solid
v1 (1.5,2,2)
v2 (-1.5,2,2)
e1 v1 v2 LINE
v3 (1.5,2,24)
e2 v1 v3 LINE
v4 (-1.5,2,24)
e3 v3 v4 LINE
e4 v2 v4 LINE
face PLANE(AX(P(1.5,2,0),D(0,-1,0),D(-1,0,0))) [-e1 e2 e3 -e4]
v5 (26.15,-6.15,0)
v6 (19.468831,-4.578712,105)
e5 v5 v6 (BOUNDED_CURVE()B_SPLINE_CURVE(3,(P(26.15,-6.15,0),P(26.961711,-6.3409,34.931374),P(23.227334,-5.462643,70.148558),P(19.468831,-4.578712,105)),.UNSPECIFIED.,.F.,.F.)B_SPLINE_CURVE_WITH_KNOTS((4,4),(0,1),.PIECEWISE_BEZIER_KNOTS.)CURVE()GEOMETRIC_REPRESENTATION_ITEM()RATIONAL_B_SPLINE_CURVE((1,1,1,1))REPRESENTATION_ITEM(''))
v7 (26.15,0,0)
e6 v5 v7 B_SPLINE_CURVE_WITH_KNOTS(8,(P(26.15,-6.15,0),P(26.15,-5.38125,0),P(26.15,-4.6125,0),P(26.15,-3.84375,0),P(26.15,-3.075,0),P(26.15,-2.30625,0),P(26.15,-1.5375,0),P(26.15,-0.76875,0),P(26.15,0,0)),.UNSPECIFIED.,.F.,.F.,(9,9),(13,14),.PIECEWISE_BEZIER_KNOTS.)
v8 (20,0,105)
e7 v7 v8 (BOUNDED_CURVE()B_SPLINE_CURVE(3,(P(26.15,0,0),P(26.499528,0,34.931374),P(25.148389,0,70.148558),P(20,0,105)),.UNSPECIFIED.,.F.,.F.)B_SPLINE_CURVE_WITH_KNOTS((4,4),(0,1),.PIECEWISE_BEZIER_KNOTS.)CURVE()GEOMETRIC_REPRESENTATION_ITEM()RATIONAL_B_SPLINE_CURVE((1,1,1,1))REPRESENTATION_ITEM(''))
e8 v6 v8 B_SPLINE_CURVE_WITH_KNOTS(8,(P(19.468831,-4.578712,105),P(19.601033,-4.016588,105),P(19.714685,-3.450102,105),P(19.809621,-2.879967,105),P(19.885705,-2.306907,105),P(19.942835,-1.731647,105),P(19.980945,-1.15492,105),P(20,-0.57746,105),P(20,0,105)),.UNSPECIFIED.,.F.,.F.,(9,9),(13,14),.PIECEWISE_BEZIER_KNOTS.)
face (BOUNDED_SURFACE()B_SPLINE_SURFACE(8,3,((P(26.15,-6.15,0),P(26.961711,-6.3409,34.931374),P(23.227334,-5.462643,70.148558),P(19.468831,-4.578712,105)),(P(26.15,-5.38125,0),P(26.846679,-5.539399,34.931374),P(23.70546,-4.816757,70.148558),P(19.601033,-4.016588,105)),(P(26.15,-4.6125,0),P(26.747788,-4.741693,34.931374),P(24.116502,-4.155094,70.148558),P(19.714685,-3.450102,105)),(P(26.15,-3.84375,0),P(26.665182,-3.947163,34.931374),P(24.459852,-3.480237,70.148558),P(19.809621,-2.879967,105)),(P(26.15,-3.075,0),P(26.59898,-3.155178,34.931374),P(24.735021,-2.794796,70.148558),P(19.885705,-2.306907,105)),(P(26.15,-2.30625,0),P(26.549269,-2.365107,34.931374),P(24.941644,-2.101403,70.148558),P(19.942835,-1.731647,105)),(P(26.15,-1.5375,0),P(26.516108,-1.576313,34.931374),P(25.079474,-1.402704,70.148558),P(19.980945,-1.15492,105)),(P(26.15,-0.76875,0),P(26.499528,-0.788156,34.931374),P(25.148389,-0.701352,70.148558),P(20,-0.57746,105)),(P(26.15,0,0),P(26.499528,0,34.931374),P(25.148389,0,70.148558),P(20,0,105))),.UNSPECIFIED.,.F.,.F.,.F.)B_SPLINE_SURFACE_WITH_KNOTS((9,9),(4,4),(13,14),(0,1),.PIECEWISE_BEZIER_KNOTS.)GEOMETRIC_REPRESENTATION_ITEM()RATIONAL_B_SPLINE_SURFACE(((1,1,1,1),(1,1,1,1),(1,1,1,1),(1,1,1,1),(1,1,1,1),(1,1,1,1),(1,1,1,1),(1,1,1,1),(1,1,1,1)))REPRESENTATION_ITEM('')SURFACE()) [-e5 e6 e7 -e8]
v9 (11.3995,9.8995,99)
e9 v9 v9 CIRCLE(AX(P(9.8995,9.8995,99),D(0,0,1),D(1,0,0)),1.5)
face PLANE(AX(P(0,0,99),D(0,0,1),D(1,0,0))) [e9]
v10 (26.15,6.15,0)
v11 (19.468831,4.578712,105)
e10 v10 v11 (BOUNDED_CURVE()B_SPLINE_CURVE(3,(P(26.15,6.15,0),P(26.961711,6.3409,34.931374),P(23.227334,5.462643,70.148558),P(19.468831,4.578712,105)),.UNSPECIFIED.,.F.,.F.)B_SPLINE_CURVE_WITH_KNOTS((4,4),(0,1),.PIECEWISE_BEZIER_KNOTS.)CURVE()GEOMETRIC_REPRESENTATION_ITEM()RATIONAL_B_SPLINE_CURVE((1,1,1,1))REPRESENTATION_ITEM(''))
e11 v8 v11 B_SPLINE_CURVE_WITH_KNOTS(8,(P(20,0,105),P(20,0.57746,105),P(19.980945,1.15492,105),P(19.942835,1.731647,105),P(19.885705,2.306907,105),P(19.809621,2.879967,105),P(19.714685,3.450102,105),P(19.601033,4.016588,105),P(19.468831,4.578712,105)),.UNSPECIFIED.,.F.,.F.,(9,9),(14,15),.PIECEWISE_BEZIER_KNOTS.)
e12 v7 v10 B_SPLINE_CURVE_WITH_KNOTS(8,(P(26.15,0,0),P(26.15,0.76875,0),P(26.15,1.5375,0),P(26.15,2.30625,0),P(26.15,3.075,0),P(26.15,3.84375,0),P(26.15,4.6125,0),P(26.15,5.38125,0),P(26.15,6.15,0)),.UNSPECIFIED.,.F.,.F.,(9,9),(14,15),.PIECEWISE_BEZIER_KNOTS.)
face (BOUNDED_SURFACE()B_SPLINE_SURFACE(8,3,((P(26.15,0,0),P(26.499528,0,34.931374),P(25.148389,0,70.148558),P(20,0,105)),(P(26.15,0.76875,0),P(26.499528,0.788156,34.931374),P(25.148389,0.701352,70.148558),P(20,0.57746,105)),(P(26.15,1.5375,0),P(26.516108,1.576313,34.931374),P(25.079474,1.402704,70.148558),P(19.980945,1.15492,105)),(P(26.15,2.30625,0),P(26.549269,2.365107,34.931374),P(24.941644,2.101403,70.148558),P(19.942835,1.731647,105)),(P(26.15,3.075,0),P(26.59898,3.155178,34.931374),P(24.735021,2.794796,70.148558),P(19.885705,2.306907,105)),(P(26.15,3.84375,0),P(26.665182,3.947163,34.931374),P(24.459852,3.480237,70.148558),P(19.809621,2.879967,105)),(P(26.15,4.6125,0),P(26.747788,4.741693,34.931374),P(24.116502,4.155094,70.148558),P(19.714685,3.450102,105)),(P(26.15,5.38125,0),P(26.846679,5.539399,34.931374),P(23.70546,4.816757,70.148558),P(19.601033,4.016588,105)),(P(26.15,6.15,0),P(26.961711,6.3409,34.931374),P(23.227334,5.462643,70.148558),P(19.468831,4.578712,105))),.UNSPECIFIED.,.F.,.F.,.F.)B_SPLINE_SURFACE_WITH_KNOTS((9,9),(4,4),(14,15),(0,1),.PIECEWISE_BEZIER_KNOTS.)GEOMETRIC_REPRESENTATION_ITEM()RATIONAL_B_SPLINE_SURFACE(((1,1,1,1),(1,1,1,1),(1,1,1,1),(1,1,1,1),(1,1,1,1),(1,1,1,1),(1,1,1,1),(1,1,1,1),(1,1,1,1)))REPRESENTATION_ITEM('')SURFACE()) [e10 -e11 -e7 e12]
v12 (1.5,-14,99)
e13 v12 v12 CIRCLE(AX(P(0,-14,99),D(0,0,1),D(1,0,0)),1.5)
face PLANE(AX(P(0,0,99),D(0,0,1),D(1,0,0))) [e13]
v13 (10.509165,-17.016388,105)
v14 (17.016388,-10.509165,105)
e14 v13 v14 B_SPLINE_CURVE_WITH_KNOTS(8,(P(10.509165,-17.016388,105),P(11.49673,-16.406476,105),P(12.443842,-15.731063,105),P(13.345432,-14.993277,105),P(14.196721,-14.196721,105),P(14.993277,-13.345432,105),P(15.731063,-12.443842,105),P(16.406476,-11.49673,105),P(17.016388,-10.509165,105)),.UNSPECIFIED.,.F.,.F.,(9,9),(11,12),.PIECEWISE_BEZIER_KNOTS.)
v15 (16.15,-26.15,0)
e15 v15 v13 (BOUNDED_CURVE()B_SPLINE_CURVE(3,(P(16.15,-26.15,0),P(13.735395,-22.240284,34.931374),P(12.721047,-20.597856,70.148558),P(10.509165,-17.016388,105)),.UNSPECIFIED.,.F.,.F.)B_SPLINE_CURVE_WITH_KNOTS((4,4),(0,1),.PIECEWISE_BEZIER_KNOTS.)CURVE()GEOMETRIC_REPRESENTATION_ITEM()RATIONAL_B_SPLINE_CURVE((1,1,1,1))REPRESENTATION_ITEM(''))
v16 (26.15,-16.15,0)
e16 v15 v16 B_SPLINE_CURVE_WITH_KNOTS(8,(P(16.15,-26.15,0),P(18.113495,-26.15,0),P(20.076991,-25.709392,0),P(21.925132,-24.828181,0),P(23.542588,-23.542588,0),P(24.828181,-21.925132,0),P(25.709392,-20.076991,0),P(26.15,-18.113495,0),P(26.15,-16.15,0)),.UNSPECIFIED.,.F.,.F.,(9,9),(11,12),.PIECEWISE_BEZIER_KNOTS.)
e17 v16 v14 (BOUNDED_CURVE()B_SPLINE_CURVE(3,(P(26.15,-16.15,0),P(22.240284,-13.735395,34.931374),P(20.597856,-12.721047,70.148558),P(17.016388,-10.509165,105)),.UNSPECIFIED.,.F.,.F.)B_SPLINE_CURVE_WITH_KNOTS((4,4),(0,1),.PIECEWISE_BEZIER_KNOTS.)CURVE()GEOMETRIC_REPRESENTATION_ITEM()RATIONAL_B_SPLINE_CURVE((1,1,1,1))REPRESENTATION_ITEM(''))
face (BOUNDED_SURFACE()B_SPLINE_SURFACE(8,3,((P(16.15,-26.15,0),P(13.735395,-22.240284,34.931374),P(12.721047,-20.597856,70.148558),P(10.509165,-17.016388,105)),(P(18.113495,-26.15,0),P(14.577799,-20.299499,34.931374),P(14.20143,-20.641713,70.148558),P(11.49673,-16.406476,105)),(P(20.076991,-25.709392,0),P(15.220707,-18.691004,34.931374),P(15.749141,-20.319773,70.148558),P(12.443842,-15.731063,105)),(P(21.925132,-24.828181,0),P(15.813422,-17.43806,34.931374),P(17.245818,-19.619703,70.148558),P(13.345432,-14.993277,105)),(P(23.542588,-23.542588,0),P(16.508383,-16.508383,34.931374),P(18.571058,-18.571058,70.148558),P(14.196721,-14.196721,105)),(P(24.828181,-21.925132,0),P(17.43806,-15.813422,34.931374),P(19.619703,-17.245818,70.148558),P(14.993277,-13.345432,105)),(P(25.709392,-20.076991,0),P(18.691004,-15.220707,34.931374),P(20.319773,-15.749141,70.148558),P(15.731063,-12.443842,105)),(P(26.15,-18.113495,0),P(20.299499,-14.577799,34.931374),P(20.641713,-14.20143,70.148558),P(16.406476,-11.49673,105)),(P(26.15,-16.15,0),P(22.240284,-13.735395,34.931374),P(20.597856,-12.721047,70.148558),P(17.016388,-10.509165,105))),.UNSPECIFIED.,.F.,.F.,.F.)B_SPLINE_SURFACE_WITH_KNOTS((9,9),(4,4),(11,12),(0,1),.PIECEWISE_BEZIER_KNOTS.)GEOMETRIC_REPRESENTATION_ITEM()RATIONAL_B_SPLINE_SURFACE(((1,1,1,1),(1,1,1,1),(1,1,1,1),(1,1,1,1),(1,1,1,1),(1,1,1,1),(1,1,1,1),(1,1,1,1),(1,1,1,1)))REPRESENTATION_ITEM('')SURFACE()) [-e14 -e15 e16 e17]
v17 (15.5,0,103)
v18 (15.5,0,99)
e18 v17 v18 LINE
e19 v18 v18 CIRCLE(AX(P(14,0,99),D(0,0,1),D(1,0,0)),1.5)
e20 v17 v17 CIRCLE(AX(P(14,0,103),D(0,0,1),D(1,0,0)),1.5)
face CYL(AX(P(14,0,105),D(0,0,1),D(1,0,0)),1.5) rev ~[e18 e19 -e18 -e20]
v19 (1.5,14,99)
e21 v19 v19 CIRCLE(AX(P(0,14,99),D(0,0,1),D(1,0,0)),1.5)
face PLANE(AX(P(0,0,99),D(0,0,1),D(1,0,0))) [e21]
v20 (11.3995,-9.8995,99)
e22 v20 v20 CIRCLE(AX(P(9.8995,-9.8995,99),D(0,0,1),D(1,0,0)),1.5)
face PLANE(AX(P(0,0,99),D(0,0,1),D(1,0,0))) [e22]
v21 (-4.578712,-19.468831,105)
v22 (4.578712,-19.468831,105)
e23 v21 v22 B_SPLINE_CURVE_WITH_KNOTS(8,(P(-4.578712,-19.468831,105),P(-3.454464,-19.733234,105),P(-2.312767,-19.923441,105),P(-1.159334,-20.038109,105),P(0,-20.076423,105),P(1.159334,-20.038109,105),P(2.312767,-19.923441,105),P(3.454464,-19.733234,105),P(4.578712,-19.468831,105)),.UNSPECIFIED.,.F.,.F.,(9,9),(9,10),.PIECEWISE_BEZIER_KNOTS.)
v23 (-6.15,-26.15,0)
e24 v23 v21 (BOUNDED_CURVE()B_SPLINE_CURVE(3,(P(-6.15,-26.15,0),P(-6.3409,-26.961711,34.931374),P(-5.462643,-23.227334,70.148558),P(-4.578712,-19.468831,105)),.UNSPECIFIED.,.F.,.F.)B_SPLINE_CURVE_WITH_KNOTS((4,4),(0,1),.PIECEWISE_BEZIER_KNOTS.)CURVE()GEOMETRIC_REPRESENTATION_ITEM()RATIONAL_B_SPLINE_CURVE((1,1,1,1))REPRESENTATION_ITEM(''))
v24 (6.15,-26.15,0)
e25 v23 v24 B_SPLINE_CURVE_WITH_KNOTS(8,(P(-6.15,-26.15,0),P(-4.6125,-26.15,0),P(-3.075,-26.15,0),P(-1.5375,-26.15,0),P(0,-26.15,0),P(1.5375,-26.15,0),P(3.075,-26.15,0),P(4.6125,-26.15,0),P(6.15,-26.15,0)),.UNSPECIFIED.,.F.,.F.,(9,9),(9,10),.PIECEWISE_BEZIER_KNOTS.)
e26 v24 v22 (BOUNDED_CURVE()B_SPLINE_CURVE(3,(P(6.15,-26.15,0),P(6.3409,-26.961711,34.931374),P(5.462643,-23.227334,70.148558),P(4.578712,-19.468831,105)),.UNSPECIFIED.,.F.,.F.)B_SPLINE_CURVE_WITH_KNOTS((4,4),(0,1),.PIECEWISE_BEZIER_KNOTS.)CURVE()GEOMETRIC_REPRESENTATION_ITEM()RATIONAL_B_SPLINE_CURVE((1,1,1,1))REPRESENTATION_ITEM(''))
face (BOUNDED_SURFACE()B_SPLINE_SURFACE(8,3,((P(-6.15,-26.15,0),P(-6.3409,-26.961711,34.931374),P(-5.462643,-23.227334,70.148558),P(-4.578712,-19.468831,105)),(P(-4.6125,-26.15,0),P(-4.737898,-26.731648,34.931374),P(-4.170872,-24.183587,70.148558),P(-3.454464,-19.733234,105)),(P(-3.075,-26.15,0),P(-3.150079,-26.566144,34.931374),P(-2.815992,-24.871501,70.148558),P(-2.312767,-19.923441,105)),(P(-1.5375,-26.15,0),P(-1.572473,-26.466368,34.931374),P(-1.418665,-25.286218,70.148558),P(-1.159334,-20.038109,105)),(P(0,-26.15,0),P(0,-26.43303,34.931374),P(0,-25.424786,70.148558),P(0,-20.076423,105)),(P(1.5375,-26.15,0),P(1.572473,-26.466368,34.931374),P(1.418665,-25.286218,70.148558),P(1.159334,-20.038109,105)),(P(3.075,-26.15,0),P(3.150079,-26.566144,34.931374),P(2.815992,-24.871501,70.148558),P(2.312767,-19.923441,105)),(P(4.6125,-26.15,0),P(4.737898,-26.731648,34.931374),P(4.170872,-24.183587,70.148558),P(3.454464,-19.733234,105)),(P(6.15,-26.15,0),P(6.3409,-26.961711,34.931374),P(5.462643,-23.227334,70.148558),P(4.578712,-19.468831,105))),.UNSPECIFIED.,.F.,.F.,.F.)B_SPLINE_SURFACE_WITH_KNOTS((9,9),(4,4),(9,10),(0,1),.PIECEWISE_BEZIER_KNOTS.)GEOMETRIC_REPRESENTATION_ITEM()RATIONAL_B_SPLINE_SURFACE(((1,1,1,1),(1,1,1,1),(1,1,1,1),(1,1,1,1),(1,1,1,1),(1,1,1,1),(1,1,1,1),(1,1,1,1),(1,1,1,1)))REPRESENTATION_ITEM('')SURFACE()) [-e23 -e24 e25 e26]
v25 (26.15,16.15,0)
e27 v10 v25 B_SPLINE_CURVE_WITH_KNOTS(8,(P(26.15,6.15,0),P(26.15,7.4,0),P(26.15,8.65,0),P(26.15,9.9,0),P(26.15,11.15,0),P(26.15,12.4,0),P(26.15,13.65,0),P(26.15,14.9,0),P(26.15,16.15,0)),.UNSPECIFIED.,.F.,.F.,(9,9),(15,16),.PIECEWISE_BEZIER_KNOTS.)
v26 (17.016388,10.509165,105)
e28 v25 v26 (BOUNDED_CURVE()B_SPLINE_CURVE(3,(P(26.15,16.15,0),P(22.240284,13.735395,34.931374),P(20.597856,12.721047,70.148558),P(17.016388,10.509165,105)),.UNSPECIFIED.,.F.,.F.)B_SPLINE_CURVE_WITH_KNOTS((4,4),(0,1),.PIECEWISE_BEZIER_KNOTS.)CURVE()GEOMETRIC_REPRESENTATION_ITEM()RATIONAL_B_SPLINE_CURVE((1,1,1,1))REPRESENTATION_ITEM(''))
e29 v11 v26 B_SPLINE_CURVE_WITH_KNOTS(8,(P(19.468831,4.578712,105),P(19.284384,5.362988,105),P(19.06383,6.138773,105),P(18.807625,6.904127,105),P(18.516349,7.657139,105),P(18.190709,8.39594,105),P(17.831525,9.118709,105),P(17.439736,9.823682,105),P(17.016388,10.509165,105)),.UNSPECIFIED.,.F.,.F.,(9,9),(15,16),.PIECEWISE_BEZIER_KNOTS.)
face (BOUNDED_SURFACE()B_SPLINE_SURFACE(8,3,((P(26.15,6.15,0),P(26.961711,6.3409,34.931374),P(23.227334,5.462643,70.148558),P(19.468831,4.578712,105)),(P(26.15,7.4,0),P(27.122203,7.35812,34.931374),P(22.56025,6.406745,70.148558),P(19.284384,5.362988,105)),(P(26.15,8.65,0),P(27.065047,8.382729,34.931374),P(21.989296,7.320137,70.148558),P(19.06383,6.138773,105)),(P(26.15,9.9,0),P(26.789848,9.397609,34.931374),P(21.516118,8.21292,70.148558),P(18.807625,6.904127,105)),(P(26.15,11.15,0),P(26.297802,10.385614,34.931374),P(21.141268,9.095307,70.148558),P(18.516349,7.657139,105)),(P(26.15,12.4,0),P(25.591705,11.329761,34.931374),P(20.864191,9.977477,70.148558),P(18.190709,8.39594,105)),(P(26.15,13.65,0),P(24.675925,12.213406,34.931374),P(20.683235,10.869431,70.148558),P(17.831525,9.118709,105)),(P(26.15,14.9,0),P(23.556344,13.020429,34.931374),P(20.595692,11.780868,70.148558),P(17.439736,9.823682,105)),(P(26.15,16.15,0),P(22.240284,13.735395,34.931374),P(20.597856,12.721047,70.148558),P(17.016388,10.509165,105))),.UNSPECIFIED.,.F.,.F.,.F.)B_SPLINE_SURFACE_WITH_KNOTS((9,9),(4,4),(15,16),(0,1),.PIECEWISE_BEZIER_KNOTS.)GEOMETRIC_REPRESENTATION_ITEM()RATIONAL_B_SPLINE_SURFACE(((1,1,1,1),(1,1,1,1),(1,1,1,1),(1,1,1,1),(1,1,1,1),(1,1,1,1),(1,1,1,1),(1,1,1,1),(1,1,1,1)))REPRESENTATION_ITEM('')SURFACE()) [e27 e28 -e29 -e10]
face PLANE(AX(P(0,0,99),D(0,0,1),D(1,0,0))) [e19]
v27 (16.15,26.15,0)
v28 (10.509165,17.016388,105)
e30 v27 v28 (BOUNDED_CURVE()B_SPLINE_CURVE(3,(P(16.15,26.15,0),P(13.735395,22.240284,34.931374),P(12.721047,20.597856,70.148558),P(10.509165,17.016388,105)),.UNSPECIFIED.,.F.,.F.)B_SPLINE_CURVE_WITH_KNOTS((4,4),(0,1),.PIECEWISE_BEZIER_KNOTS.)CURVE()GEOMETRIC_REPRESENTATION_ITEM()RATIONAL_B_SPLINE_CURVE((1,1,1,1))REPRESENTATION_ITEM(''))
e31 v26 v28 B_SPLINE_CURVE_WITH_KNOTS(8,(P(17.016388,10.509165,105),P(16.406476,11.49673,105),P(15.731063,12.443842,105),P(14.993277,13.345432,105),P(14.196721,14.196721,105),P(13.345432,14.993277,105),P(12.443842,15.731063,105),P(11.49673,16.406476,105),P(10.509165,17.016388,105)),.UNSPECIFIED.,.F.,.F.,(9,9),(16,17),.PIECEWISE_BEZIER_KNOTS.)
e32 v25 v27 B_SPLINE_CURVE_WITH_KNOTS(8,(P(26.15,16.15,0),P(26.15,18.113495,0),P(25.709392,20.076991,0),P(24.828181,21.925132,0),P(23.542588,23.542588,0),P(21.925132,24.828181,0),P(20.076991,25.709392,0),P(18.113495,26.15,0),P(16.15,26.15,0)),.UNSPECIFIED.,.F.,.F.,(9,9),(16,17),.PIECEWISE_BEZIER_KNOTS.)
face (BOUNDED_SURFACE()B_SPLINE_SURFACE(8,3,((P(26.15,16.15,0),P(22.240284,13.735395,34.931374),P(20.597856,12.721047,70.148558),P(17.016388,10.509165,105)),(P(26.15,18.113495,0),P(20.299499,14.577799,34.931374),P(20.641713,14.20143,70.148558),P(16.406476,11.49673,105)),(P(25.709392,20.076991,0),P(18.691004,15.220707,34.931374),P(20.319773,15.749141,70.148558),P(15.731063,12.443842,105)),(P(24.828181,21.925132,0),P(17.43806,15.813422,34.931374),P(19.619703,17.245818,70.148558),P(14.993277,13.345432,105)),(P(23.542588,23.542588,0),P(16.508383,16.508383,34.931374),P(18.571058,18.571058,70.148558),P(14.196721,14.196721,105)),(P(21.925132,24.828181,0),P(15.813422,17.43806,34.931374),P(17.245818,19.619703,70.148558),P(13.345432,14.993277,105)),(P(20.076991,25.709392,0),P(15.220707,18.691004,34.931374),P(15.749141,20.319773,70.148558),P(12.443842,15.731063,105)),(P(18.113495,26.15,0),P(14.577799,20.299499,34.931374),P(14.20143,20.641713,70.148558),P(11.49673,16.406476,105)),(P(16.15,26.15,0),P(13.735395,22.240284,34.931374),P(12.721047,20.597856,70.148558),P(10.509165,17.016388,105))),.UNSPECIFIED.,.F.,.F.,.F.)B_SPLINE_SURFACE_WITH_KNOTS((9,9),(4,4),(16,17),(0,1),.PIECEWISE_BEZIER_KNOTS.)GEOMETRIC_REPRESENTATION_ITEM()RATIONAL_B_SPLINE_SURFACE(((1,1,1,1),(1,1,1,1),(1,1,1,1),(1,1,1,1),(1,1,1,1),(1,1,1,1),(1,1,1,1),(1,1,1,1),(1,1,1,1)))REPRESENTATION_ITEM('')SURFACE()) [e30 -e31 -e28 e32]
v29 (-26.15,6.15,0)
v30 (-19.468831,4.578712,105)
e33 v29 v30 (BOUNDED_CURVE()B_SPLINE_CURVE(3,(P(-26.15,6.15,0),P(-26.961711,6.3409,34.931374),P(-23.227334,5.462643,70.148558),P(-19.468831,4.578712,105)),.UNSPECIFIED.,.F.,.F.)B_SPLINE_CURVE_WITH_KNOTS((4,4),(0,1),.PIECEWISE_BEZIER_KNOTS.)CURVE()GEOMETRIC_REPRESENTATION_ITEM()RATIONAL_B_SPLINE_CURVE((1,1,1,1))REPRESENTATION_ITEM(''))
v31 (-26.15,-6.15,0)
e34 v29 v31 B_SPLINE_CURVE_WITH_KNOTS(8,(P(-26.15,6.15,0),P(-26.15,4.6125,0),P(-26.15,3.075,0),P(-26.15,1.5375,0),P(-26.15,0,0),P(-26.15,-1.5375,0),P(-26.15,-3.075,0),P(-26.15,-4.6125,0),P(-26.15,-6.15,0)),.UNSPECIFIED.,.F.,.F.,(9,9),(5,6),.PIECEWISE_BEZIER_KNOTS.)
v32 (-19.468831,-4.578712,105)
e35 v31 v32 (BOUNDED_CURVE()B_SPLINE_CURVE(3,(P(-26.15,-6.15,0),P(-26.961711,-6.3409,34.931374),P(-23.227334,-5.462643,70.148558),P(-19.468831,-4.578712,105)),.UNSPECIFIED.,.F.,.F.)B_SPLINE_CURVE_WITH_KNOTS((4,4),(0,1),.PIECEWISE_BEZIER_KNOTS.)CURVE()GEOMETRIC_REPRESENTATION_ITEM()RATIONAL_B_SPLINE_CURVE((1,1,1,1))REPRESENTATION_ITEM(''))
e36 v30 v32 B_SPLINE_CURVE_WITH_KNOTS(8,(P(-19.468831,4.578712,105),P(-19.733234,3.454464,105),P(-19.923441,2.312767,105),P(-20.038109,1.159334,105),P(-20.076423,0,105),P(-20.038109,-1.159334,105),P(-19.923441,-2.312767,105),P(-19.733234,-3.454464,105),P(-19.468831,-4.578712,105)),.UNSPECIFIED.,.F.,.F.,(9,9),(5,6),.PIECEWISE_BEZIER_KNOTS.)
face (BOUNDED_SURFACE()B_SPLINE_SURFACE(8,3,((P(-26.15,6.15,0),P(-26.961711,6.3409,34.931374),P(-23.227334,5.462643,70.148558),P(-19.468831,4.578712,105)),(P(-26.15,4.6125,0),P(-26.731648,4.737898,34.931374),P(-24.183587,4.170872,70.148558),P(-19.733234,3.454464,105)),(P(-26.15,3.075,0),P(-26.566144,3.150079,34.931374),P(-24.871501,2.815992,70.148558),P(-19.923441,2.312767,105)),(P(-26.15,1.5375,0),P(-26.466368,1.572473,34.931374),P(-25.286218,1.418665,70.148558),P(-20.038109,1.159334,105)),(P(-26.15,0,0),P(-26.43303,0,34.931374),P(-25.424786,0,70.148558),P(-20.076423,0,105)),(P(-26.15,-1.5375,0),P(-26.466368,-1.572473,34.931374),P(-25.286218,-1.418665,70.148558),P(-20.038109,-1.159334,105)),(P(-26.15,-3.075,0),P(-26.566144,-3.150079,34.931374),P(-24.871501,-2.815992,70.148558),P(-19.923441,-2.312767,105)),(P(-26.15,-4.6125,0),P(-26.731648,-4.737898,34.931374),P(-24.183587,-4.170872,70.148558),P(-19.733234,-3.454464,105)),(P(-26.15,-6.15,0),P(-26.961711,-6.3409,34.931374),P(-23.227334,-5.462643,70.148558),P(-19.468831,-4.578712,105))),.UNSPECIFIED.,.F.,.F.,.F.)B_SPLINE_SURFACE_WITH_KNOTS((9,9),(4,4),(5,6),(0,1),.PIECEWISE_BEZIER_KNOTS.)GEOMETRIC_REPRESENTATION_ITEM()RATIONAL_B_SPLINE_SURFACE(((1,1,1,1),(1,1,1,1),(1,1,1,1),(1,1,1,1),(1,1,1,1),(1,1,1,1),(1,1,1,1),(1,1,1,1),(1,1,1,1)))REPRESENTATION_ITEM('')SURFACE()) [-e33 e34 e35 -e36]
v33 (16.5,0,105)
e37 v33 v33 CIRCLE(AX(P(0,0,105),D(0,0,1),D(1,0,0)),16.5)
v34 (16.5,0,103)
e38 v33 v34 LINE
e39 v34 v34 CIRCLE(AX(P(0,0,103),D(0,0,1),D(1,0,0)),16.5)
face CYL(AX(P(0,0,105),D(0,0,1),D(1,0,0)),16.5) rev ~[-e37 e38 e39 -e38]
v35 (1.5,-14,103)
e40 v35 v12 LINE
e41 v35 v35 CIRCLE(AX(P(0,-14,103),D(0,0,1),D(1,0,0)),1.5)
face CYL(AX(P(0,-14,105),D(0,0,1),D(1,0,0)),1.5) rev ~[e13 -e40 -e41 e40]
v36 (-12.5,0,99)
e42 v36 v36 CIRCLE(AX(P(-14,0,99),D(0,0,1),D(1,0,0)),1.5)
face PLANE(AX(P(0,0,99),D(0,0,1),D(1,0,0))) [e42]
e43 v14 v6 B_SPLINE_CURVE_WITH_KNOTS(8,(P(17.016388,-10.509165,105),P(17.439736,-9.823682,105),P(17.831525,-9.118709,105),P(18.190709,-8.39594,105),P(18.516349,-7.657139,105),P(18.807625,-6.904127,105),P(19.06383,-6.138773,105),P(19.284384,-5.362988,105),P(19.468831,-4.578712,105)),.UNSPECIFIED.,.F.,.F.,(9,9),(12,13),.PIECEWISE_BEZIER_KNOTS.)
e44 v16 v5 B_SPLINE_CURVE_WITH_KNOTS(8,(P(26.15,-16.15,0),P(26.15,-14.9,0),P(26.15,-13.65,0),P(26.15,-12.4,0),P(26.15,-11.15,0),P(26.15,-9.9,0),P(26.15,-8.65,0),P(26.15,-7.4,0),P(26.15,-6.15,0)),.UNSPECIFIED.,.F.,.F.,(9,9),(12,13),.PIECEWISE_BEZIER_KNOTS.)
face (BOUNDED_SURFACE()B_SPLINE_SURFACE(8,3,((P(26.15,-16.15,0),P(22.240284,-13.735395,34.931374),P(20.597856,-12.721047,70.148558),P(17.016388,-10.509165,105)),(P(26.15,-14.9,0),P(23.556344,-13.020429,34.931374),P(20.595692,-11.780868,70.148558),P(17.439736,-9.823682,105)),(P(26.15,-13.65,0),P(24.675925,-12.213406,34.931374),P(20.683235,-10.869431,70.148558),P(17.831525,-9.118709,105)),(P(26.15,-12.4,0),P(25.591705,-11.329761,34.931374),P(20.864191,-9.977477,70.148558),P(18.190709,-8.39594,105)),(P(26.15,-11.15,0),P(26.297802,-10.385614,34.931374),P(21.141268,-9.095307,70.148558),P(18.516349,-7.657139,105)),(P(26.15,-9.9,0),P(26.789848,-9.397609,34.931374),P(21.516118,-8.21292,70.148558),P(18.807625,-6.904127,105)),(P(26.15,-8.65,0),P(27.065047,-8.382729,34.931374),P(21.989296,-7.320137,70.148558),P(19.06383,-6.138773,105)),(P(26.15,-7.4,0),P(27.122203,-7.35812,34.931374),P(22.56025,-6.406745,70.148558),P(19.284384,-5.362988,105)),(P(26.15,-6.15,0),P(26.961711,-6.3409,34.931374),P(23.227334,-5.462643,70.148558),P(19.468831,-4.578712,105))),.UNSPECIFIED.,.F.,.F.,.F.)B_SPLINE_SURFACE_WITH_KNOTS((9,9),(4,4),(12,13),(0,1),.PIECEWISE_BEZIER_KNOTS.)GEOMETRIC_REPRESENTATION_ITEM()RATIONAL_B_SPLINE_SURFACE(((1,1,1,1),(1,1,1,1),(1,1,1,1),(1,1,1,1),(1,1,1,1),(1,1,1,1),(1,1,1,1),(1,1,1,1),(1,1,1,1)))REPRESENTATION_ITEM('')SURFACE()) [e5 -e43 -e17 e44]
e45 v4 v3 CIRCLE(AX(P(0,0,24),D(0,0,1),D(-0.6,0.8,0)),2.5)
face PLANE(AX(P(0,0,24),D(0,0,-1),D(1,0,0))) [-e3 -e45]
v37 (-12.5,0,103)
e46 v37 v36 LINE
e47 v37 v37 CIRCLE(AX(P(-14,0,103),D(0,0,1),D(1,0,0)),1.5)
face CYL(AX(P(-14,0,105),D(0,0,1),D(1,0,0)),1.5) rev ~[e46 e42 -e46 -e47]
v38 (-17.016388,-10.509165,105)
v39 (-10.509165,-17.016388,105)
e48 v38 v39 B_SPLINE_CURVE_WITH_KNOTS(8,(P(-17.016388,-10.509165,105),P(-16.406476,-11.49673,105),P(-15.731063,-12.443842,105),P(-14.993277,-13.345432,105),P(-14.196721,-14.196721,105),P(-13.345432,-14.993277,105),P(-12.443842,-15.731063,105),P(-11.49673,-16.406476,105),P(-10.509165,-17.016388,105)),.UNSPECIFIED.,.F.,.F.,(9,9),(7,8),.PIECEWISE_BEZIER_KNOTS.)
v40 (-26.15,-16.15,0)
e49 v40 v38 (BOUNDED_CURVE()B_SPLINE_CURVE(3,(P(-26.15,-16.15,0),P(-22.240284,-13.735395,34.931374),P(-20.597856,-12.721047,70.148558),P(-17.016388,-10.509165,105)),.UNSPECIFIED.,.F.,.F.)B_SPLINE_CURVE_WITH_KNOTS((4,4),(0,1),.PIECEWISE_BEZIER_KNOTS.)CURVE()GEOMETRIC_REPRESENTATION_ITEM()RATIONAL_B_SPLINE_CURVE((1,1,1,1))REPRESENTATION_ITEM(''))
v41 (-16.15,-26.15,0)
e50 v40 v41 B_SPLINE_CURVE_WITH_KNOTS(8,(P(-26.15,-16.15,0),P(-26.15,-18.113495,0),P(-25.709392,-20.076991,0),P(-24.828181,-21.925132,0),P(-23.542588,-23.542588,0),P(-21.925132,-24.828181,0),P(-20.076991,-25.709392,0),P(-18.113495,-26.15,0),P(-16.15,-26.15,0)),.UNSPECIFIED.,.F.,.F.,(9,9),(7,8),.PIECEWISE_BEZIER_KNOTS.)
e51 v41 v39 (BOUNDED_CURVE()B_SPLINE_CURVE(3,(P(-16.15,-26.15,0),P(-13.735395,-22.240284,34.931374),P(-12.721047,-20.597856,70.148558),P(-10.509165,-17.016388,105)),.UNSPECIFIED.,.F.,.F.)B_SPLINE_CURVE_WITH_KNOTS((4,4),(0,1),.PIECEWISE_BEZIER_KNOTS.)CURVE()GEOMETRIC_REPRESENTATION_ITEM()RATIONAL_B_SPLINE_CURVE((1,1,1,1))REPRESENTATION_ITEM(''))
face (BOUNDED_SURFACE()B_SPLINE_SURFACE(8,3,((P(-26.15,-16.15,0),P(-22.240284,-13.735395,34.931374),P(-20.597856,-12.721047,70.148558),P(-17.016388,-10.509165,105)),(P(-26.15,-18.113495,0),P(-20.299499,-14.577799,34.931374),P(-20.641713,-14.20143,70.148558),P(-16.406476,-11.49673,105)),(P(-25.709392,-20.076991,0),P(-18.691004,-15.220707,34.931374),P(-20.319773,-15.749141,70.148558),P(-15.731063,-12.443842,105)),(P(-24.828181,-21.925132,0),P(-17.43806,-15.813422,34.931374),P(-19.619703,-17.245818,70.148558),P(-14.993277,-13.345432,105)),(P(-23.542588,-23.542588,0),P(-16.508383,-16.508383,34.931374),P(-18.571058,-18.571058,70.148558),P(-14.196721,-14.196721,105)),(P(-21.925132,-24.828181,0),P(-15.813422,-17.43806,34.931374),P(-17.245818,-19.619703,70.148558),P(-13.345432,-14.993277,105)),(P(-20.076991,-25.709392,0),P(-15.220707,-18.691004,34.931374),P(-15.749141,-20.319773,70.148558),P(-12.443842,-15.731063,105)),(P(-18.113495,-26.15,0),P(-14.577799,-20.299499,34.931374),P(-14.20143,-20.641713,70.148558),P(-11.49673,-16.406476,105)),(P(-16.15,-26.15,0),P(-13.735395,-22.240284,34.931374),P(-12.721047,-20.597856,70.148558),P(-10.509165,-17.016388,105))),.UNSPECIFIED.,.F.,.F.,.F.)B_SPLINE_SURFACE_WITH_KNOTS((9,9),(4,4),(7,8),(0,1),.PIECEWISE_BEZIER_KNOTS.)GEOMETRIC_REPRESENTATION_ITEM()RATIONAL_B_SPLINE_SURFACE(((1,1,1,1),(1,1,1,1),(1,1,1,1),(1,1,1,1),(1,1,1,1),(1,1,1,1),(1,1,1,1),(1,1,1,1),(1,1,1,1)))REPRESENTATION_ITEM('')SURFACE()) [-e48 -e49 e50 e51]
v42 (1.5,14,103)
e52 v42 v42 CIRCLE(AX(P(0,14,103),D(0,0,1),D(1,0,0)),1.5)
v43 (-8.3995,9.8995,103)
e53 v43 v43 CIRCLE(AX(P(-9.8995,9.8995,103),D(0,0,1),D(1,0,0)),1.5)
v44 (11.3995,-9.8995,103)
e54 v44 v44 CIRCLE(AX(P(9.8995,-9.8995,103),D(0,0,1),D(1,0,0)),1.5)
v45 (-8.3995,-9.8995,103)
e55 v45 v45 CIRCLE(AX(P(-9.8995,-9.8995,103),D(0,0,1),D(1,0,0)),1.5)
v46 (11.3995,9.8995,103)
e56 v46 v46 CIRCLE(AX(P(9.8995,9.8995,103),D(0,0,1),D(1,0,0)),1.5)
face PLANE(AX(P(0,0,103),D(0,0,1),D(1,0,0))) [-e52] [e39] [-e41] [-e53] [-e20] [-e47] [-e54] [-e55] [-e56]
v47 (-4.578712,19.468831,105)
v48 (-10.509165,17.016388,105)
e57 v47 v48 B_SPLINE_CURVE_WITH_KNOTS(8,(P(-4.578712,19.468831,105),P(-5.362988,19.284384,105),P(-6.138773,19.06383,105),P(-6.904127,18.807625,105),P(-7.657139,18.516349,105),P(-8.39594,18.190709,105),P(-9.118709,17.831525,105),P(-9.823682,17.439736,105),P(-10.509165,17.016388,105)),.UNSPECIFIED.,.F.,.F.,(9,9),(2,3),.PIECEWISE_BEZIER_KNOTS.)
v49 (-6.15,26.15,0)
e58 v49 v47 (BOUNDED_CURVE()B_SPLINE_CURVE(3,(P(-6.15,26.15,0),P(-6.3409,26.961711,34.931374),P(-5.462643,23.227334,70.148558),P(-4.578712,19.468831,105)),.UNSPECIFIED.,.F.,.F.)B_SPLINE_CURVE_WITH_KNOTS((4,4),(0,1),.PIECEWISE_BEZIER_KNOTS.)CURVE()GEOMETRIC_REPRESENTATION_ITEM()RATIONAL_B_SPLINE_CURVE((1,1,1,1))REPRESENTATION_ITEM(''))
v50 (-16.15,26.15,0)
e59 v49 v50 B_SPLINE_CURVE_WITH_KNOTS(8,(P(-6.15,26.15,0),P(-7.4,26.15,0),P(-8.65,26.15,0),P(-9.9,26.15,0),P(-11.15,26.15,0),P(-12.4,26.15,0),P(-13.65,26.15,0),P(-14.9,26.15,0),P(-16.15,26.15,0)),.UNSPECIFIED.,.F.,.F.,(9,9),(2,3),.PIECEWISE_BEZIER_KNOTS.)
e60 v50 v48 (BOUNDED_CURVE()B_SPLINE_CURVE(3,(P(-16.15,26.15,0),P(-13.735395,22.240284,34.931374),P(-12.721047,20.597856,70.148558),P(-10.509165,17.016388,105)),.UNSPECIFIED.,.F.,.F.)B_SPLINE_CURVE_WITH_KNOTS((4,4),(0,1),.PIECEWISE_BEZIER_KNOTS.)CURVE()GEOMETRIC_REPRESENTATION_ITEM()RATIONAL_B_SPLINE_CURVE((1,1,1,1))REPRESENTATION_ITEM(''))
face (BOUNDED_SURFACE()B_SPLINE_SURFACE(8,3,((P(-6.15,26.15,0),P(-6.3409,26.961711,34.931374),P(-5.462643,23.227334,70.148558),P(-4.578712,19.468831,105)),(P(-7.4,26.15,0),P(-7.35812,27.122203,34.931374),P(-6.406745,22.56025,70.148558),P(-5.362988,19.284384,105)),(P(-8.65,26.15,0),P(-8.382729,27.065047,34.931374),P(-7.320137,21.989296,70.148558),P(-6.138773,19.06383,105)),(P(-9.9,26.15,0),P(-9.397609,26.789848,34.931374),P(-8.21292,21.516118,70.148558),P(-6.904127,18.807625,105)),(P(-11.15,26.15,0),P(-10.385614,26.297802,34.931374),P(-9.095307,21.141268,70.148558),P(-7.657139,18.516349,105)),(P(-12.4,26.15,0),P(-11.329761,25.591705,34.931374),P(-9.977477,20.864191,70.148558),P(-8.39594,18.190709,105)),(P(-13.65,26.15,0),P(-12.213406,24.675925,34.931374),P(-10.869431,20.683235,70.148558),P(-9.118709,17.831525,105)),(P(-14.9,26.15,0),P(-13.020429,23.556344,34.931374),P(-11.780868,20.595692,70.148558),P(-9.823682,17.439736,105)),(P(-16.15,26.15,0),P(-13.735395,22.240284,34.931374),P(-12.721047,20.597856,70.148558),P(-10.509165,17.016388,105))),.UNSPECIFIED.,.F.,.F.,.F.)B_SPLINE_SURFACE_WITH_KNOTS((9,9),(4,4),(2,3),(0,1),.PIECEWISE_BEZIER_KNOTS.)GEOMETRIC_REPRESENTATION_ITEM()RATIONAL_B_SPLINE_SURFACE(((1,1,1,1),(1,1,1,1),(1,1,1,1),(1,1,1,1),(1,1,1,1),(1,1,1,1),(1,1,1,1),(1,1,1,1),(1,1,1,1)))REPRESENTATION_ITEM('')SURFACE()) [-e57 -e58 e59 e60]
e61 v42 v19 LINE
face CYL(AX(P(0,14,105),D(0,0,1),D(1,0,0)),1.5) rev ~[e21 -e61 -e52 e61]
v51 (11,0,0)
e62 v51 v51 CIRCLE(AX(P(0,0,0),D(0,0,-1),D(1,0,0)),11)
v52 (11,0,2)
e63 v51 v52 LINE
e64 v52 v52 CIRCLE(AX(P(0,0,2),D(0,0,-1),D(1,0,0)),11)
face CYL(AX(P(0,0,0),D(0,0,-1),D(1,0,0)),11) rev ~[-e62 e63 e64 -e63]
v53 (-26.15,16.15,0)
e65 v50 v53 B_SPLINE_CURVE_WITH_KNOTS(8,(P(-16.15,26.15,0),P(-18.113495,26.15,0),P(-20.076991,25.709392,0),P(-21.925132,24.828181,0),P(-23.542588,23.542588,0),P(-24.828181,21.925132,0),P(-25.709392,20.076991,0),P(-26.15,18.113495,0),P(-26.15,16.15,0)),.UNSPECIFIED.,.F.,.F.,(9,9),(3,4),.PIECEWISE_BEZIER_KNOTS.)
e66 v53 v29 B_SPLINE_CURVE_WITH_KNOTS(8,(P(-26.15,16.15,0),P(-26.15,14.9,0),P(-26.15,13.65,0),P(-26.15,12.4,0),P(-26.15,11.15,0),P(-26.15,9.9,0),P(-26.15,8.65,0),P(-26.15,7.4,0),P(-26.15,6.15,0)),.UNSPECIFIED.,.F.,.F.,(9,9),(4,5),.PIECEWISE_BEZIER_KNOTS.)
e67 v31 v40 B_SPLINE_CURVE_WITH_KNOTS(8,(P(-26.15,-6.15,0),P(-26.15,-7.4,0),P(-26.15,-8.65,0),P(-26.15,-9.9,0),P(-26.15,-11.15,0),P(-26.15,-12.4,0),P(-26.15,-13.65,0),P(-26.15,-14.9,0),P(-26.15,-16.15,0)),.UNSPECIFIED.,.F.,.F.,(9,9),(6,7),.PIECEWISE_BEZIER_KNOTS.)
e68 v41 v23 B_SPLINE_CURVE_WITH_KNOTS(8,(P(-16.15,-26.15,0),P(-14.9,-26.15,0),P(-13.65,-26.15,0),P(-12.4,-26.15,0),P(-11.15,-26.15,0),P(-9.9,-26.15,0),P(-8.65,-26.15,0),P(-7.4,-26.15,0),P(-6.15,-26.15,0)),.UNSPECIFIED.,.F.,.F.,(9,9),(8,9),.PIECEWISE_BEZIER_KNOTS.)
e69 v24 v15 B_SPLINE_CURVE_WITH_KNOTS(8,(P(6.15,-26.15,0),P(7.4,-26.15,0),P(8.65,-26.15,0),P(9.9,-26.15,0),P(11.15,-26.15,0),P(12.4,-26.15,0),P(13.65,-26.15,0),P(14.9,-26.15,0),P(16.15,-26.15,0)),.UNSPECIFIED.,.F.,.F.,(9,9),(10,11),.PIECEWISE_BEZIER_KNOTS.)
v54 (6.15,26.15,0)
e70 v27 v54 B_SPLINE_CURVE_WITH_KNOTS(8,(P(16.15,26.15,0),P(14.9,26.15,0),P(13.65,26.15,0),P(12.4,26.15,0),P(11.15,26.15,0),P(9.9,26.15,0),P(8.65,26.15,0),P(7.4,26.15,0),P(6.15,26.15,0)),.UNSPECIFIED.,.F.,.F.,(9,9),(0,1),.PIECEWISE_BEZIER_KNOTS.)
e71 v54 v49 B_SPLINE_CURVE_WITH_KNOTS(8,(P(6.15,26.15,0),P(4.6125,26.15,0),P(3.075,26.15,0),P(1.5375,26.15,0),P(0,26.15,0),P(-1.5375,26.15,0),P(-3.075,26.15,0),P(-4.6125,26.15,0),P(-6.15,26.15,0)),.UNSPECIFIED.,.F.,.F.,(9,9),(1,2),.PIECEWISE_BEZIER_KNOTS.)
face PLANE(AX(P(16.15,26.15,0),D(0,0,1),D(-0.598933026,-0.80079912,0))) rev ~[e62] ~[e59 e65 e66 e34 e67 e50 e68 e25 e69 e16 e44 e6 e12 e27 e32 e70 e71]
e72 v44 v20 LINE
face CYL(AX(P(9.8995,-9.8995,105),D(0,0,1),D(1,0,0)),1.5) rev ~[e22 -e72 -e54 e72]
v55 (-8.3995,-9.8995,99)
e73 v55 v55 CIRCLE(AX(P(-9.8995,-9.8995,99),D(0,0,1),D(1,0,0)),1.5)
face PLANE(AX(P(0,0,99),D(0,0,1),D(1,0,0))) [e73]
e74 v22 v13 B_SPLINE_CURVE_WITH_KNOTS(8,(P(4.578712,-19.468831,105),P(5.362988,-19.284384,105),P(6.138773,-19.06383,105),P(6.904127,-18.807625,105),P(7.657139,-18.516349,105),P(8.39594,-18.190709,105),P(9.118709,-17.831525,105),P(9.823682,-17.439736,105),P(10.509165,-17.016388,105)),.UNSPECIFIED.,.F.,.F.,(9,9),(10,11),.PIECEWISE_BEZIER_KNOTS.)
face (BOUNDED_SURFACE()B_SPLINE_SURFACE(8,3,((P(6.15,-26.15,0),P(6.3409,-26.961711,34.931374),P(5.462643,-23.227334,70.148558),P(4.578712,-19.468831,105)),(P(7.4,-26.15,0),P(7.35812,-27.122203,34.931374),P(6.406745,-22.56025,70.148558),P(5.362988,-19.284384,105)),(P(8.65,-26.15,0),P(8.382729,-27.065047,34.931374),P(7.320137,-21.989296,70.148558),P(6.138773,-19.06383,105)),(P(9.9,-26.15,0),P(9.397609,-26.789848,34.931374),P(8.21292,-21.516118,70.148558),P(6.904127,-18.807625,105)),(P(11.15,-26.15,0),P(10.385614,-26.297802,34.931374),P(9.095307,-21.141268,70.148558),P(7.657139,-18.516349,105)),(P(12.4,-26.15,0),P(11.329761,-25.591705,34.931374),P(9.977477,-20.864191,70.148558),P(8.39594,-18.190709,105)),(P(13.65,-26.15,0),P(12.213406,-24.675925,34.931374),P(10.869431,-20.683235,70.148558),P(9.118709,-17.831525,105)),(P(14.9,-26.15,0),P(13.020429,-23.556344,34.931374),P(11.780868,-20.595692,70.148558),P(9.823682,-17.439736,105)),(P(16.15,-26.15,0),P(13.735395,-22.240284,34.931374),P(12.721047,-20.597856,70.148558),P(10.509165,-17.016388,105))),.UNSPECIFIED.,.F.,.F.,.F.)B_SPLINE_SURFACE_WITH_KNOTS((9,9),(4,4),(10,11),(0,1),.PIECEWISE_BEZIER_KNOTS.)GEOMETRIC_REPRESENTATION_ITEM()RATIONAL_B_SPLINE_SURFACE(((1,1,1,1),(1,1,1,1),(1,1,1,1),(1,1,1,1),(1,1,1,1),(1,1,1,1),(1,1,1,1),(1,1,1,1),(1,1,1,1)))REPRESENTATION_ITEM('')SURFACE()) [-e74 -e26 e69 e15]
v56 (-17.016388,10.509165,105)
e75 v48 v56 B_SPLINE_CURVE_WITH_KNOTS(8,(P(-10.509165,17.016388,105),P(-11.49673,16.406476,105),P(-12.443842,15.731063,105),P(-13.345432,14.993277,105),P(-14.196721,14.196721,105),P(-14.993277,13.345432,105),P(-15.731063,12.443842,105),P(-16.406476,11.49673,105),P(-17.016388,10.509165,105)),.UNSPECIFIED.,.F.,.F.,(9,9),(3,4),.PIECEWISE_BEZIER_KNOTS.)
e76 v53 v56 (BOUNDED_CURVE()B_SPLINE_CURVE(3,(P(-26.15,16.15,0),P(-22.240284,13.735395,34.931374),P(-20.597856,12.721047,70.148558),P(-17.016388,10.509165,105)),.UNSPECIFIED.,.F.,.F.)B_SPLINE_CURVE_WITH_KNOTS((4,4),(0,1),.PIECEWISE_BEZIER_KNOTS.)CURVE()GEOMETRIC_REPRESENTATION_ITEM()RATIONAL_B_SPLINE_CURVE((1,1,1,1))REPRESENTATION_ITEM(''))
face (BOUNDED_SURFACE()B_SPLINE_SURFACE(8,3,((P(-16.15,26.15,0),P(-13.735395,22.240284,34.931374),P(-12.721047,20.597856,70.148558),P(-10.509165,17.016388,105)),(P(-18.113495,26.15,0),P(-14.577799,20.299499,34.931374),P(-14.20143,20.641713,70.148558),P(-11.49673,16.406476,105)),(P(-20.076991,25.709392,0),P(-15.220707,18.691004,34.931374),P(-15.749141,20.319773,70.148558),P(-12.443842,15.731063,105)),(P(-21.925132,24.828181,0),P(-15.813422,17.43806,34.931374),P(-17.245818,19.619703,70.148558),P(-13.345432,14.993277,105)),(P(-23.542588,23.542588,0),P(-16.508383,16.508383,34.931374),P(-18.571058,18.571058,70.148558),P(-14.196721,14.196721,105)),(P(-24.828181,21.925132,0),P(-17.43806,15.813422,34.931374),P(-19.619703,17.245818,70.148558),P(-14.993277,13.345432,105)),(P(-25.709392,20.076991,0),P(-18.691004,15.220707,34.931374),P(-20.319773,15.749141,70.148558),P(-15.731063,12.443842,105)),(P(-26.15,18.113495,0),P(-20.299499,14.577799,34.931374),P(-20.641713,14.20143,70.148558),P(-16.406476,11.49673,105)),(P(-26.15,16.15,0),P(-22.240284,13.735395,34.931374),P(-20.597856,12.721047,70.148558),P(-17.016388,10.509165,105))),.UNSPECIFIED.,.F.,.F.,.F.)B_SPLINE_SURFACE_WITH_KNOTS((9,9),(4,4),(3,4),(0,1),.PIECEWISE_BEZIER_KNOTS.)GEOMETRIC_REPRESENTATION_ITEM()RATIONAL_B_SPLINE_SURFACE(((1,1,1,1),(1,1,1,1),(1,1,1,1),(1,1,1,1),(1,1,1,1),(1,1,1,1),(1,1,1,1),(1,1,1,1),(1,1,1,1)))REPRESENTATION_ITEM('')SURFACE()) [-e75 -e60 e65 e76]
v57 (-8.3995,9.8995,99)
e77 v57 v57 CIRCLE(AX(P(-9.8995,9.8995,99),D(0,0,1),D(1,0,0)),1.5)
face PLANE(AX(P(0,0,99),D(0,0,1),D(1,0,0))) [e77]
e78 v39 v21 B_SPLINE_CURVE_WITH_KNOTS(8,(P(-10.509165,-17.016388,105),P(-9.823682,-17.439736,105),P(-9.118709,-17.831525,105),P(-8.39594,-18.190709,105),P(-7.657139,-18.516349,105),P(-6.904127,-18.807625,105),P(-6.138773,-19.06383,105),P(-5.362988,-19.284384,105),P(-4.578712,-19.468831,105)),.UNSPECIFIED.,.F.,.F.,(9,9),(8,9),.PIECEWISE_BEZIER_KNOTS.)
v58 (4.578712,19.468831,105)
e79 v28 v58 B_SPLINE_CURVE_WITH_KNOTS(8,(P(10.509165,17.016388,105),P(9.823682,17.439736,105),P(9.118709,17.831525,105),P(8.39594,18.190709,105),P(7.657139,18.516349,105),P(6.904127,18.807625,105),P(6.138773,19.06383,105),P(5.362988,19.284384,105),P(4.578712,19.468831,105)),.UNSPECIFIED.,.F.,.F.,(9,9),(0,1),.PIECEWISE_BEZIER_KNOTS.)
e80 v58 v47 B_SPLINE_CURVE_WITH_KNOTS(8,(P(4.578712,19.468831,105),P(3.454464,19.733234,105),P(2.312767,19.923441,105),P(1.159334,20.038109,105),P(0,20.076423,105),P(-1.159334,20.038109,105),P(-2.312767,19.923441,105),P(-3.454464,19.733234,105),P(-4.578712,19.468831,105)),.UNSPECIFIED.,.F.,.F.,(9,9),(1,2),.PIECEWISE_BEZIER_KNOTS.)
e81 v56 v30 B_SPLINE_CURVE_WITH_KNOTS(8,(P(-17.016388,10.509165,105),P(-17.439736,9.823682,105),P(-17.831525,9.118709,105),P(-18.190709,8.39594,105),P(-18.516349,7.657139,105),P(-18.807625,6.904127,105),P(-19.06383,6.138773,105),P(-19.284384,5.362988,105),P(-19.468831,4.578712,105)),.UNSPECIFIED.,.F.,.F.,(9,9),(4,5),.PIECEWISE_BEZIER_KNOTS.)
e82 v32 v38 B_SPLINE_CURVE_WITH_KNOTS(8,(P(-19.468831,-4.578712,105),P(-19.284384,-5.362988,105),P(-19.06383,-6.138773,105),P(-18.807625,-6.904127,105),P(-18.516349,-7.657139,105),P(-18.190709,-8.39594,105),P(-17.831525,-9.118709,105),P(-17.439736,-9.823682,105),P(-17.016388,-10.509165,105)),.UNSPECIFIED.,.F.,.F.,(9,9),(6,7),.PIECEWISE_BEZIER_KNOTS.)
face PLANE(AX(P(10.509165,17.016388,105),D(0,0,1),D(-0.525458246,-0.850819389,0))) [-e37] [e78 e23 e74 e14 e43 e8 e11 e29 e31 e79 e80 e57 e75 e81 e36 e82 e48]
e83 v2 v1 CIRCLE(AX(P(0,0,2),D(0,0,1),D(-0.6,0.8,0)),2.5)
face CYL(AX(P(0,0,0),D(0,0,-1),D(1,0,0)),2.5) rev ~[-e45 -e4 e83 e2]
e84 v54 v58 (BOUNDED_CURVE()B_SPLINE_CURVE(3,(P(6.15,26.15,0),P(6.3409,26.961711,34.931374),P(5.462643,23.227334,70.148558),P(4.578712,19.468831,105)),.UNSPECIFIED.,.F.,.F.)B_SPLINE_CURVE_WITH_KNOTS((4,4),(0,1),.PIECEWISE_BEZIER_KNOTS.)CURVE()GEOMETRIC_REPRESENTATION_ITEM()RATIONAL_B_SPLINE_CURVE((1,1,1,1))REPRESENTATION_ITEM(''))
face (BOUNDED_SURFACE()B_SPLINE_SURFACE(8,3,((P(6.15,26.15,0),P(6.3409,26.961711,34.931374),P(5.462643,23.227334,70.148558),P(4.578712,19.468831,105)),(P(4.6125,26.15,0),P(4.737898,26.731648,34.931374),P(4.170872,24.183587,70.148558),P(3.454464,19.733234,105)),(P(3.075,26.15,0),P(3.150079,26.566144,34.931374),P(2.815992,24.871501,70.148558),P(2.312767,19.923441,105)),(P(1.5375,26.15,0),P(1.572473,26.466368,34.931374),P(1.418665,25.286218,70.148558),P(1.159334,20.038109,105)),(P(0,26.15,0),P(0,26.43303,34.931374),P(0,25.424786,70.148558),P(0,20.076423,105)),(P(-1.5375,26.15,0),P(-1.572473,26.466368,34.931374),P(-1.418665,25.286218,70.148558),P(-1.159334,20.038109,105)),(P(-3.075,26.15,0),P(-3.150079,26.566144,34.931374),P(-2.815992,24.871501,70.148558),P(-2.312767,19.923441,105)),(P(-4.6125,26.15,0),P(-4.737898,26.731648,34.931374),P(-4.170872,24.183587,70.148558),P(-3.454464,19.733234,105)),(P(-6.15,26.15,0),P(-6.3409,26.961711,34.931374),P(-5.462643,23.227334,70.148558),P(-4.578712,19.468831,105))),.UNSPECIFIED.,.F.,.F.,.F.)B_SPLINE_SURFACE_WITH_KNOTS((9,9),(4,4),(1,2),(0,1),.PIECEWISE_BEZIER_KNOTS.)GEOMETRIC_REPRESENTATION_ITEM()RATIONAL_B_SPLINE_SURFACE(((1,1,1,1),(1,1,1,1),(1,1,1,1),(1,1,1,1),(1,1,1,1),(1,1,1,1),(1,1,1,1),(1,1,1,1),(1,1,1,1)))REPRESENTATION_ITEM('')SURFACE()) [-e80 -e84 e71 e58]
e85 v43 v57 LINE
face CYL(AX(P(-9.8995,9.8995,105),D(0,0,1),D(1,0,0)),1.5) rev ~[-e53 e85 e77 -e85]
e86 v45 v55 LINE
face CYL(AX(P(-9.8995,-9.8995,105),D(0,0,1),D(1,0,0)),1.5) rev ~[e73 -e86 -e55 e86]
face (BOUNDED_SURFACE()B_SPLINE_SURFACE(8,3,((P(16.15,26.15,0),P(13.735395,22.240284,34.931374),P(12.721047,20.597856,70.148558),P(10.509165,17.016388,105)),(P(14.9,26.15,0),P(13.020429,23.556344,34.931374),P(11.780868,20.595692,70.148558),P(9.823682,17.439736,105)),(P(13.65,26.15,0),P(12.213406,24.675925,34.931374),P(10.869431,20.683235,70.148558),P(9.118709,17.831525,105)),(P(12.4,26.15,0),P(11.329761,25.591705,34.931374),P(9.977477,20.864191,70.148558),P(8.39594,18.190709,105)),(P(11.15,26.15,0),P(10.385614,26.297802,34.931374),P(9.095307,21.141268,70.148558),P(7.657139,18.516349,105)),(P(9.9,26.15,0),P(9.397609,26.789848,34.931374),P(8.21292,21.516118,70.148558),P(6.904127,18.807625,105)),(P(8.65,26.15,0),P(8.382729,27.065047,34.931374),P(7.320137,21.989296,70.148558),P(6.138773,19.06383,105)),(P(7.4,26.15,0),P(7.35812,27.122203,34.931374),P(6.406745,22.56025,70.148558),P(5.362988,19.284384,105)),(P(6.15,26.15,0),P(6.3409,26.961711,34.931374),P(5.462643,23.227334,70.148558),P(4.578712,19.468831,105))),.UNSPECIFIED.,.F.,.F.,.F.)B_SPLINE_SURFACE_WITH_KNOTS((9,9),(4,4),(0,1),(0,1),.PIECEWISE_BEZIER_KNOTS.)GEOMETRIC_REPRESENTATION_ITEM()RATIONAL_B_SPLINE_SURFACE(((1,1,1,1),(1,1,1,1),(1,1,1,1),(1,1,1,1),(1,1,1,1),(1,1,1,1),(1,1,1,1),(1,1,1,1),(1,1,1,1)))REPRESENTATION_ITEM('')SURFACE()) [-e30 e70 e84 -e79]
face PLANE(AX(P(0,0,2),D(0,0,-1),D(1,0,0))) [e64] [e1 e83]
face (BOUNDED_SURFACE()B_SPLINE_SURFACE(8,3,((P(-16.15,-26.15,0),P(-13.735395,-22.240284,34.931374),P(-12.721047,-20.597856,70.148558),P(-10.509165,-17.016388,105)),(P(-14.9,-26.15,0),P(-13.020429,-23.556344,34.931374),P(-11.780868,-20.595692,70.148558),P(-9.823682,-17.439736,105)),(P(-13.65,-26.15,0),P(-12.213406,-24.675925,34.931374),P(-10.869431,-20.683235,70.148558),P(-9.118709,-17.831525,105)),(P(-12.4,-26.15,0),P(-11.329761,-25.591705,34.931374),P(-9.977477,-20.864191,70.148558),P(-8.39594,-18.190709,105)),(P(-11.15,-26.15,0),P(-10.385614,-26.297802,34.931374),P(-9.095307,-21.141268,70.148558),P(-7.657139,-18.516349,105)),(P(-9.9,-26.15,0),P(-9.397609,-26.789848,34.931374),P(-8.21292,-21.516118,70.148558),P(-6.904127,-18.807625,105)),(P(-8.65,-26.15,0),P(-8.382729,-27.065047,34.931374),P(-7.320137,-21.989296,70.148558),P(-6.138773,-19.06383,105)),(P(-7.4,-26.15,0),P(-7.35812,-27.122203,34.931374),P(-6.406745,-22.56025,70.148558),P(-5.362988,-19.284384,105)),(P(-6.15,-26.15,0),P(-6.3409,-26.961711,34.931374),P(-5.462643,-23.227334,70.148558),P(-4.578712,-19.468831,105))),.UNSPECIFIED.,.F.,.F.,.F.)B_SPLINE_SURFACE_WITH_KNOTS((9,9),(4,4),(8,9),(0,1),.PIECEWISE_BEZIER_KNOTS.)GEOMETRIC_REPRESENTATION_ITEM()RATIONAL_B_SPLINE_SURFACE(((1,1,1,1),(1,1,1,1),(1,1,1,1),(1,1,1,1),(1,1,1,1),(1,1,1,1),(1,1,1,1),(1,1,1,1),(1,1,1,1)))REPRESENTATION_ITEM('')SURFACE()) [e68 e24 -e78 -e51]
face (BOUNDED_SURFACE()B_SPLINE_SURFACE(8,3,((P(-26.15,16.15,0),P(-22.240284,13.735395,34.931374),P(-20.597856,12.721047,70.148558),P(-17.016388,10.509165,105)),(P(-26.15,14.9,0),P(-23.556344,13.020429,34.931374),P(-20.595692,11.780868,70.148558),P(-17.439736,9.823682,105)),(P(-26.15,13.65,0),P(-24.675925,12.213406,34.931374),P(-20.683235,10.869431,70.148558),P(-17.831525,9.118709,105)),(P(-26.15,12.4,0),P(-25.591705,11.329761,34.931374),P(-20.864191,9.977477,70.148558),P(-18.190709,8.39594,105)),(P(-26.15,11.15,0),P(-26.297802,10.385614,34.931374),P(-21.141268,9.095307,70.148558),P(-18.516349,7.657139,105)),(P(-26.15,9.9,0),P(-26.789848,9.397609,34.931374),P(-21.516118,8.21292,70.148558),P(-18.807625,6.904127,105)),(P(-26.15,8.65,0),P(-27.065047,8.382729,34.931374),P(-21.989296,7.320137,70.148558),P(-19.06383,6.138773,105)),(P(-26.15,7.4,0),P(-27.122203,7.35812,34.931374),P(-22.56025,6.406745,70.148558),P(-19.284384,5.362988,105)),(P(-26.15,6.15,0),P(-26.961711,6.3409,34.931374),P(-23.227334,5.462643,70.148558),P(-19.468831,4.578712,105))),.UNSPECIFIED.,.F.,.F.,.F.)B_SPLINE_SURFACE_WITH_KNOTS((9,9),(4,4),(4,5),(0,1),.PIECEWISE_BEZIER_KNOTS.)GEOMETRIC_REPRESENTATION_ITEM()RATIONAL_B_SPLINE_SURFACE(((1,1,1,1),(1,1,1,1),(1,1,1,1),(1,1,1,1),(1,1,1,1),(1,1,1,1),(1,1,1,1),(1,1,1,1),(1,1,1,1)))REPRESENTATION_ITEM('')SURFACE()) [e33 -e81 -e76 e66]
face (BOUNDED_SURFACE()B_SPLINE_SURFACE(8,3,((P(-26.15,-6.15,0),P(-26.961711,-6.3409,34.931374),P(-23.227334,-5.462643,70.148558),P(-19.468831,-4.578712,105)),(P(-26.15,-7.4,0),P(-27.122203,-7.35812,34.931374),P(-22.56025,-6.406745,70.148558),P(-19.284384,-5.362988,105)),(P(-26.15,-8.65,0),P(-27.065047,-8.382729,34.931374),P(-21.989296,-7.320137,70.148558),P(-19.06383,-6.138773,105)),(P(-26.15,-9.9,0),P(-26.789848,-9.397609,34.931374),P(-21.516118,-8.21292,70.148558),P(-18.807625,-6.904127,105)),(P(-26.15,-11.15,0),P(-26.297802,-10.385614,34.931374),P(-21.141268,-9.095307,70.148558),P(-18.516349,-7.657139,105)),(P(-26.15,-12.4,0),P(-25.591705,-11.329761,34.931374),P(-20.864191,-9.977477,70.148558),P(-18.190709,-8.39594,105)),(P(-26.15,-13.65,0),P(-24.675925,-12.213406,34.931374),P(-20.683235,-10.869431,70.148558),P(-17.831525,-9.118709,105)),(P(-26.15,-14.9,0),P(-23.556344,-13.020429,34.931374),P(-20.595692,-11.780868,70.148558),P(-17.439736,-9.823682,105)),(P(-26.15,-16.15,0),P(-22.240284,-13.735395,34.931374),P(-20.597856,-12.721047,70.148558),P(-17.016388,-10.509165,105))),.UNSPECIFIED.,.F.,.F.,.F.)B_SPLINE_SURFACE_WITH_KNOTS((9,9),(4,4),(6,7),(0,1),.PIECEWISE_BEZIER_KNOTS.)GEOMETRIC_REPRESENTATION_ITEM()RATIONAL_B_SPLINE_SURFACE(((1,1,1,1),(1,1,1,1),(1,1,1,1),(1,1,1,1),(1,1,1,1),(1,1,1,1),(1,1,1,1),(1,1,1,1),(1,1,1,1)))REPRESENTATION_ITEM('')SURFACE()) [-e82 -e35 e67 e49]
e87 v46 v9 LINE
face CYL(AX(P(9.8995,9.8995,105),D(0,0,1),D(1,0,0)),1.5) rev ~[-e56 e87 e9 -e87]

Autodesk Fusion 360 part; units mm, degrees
sketch "Sketch7" plane through (0, 0, 0) normal (0, 0, 1) x (1, 0, 0)
  line L0 (-16.15, 26.15) -> (16.15, 26.15)
  line L1 (26.15, 16.15) -> (26.15, -16.15)
  line L2 (16.15, -26.15) -> (-16.15, -26.15)
  line L3 (-26.15, -16.15) -> (-26.15, 16.15)
  arc A0 (-16.15, 26.15) -> (-26.15, 16.15) centre (-16.15, 16.15) ccw
  arc A1 (-26.15, -16.15) -> (-16.15, -26.15) centre (-16.15, -16.15) ccw
  arc A2 (16.15, -26.15) -> (26.15, -16.15) centre (16.15, -16.15) ccw
  arc A3 (26.15, 16.15) -> (16.15, 26.15) centre (16.15, 16.15) ccw
  point P0 (-26.15, 26.15)
  point P1 (26.15, 26.15)
  point P2 (-26.15, -26.15)
  dimension "d26" = 52.3
  dimension "d27" = 52.3
  dimension "d28" = 26.15
  dimension "d29" = 26.15
  dimension "d30" = 10
ref_plane "WorkPlane4" through (0, 0, 20) normal (0, 0, 1) x (1, 0, 0)
sketch "Sketch8" plane through (0, 0, 20) normal (0, 0, 1) x (1, 0, 0)
  line L0 (-6.15, 26.15) -> (6.15, 26.15)
  line L1 (26.15, 6.15) -> (26.15, -6.15)
  line L2 (6.15, -26.15) -> (-6.15, -26.15)
  line L3 (-26.15, -6.15) -> (-26.15, 6.15)
  arc A0 (-6.15, 26.15) -> (-26.15, 6.15) centre (-6.15, 6.15) ccw
  arc A1 (26.15, 6.15) -> (6.15, 26.15) centre (6.15, 6.15) ccw
  arc A2 (6.15, -26.15) -> (26.15, -6.15) centre (6.15, -6.15) ccw
  arc A3 (-26.15, -6.15) -> (-6.15, -26.15) centre (-6.15, -6.15) ccw
  point P0 (26.15, 26.15)
  point P1 (26.15, -26.15)
  point P2 (-26.15, -26.15)
  dimension "d41" = 52.3
  dimension "d42" = 52.3
  dimension "d43" = 26.15
  dimension "d44" = 26.15
  dimension "d45" = 20
ref_plane "WorkPlane5" through (0, 0, 55) normal (0, 0, 1) x (1, 0, 0)
sketch "Sketch9" plane through (0, 0, 55) normal (0, 0, 1) x (1, 0, 0)
  circle A0 centre (0, 0) radius 25
ref_plane "WorkPlane6" through (0, 0, 105) normal (0, 0, 1) x (1, 0, 0)
sketch "Sketch10" plane through (0, 0, 105) normal (0, 0, 1) x (1, 0, 0)
  circle A0 centre (0, 0) radius 20
  circle A1 centre (0, 0) radius 16.5
  circle A2 centre (0, 14) radius 1.5
  circle A3 centre (-9.8995, 9.8995) radius 1.5
  circle A4 centre (-14, 0) radius 1.5
  circle A5 centre (-9.8995, -9.8995) radius 1.5
  circle A6 centre (0, -14) radius 1.5
  circle A7 centre (9.8995, -9.8995) radius 1.5
  circle A8 centre (14, 0) radius 1.5
  circle A9 centre (9.8995, 9.8995) radius 1.5
  dimension "d35" = 33
  dimension "d36" = 3
  dimension "d37" = 14
  dimension "d38" = 40
  dimension "d40" = 360
loft "Loft3" add profiles "Sketch7", "Sketch8", "Sketch9", "Sketch10" section 1 section 2 section 3 section 4 contours A0
extrude "Extrude6" cut sketch "Sketch10" against normal blind 2 contours A1
extrude "Extrude7" cut sketch "Sketch10" against normal blind 6 contours A2 | A3 | A4 | A5 | A6 | A7 | A8 | A9
sketch "Sketch11" plane through (0, 0, 0) normal (0, 0, -1) x (1, 0, 0)
  spline S0 degree 3 number of poles 76
  circle A0 centre (0, 0) radius 2.5
  line L0 (4.103, -2) -> (-9.0317, -2)
  circle A1 centre (0, 0) radius 11
  dimension "d50" = 5
  dimension "d51" = 2
  dimension "d54" = 22
extrude "Extrude8" cut sketch "Sketch11" against normal blind 24 contours A0 L0 picked at (0.2207, 0.7145)
extrude "Extrude9" cut sketch "Sketch11" against normal blind 2 contours A0 L0 | A1 picked at (0.3999, -2.0645)
equation "WallThickness = 1.6 mm"
equation "Tolerance = 0.2 mm"
equation "BoltHoleDia = 3.2 mm"
